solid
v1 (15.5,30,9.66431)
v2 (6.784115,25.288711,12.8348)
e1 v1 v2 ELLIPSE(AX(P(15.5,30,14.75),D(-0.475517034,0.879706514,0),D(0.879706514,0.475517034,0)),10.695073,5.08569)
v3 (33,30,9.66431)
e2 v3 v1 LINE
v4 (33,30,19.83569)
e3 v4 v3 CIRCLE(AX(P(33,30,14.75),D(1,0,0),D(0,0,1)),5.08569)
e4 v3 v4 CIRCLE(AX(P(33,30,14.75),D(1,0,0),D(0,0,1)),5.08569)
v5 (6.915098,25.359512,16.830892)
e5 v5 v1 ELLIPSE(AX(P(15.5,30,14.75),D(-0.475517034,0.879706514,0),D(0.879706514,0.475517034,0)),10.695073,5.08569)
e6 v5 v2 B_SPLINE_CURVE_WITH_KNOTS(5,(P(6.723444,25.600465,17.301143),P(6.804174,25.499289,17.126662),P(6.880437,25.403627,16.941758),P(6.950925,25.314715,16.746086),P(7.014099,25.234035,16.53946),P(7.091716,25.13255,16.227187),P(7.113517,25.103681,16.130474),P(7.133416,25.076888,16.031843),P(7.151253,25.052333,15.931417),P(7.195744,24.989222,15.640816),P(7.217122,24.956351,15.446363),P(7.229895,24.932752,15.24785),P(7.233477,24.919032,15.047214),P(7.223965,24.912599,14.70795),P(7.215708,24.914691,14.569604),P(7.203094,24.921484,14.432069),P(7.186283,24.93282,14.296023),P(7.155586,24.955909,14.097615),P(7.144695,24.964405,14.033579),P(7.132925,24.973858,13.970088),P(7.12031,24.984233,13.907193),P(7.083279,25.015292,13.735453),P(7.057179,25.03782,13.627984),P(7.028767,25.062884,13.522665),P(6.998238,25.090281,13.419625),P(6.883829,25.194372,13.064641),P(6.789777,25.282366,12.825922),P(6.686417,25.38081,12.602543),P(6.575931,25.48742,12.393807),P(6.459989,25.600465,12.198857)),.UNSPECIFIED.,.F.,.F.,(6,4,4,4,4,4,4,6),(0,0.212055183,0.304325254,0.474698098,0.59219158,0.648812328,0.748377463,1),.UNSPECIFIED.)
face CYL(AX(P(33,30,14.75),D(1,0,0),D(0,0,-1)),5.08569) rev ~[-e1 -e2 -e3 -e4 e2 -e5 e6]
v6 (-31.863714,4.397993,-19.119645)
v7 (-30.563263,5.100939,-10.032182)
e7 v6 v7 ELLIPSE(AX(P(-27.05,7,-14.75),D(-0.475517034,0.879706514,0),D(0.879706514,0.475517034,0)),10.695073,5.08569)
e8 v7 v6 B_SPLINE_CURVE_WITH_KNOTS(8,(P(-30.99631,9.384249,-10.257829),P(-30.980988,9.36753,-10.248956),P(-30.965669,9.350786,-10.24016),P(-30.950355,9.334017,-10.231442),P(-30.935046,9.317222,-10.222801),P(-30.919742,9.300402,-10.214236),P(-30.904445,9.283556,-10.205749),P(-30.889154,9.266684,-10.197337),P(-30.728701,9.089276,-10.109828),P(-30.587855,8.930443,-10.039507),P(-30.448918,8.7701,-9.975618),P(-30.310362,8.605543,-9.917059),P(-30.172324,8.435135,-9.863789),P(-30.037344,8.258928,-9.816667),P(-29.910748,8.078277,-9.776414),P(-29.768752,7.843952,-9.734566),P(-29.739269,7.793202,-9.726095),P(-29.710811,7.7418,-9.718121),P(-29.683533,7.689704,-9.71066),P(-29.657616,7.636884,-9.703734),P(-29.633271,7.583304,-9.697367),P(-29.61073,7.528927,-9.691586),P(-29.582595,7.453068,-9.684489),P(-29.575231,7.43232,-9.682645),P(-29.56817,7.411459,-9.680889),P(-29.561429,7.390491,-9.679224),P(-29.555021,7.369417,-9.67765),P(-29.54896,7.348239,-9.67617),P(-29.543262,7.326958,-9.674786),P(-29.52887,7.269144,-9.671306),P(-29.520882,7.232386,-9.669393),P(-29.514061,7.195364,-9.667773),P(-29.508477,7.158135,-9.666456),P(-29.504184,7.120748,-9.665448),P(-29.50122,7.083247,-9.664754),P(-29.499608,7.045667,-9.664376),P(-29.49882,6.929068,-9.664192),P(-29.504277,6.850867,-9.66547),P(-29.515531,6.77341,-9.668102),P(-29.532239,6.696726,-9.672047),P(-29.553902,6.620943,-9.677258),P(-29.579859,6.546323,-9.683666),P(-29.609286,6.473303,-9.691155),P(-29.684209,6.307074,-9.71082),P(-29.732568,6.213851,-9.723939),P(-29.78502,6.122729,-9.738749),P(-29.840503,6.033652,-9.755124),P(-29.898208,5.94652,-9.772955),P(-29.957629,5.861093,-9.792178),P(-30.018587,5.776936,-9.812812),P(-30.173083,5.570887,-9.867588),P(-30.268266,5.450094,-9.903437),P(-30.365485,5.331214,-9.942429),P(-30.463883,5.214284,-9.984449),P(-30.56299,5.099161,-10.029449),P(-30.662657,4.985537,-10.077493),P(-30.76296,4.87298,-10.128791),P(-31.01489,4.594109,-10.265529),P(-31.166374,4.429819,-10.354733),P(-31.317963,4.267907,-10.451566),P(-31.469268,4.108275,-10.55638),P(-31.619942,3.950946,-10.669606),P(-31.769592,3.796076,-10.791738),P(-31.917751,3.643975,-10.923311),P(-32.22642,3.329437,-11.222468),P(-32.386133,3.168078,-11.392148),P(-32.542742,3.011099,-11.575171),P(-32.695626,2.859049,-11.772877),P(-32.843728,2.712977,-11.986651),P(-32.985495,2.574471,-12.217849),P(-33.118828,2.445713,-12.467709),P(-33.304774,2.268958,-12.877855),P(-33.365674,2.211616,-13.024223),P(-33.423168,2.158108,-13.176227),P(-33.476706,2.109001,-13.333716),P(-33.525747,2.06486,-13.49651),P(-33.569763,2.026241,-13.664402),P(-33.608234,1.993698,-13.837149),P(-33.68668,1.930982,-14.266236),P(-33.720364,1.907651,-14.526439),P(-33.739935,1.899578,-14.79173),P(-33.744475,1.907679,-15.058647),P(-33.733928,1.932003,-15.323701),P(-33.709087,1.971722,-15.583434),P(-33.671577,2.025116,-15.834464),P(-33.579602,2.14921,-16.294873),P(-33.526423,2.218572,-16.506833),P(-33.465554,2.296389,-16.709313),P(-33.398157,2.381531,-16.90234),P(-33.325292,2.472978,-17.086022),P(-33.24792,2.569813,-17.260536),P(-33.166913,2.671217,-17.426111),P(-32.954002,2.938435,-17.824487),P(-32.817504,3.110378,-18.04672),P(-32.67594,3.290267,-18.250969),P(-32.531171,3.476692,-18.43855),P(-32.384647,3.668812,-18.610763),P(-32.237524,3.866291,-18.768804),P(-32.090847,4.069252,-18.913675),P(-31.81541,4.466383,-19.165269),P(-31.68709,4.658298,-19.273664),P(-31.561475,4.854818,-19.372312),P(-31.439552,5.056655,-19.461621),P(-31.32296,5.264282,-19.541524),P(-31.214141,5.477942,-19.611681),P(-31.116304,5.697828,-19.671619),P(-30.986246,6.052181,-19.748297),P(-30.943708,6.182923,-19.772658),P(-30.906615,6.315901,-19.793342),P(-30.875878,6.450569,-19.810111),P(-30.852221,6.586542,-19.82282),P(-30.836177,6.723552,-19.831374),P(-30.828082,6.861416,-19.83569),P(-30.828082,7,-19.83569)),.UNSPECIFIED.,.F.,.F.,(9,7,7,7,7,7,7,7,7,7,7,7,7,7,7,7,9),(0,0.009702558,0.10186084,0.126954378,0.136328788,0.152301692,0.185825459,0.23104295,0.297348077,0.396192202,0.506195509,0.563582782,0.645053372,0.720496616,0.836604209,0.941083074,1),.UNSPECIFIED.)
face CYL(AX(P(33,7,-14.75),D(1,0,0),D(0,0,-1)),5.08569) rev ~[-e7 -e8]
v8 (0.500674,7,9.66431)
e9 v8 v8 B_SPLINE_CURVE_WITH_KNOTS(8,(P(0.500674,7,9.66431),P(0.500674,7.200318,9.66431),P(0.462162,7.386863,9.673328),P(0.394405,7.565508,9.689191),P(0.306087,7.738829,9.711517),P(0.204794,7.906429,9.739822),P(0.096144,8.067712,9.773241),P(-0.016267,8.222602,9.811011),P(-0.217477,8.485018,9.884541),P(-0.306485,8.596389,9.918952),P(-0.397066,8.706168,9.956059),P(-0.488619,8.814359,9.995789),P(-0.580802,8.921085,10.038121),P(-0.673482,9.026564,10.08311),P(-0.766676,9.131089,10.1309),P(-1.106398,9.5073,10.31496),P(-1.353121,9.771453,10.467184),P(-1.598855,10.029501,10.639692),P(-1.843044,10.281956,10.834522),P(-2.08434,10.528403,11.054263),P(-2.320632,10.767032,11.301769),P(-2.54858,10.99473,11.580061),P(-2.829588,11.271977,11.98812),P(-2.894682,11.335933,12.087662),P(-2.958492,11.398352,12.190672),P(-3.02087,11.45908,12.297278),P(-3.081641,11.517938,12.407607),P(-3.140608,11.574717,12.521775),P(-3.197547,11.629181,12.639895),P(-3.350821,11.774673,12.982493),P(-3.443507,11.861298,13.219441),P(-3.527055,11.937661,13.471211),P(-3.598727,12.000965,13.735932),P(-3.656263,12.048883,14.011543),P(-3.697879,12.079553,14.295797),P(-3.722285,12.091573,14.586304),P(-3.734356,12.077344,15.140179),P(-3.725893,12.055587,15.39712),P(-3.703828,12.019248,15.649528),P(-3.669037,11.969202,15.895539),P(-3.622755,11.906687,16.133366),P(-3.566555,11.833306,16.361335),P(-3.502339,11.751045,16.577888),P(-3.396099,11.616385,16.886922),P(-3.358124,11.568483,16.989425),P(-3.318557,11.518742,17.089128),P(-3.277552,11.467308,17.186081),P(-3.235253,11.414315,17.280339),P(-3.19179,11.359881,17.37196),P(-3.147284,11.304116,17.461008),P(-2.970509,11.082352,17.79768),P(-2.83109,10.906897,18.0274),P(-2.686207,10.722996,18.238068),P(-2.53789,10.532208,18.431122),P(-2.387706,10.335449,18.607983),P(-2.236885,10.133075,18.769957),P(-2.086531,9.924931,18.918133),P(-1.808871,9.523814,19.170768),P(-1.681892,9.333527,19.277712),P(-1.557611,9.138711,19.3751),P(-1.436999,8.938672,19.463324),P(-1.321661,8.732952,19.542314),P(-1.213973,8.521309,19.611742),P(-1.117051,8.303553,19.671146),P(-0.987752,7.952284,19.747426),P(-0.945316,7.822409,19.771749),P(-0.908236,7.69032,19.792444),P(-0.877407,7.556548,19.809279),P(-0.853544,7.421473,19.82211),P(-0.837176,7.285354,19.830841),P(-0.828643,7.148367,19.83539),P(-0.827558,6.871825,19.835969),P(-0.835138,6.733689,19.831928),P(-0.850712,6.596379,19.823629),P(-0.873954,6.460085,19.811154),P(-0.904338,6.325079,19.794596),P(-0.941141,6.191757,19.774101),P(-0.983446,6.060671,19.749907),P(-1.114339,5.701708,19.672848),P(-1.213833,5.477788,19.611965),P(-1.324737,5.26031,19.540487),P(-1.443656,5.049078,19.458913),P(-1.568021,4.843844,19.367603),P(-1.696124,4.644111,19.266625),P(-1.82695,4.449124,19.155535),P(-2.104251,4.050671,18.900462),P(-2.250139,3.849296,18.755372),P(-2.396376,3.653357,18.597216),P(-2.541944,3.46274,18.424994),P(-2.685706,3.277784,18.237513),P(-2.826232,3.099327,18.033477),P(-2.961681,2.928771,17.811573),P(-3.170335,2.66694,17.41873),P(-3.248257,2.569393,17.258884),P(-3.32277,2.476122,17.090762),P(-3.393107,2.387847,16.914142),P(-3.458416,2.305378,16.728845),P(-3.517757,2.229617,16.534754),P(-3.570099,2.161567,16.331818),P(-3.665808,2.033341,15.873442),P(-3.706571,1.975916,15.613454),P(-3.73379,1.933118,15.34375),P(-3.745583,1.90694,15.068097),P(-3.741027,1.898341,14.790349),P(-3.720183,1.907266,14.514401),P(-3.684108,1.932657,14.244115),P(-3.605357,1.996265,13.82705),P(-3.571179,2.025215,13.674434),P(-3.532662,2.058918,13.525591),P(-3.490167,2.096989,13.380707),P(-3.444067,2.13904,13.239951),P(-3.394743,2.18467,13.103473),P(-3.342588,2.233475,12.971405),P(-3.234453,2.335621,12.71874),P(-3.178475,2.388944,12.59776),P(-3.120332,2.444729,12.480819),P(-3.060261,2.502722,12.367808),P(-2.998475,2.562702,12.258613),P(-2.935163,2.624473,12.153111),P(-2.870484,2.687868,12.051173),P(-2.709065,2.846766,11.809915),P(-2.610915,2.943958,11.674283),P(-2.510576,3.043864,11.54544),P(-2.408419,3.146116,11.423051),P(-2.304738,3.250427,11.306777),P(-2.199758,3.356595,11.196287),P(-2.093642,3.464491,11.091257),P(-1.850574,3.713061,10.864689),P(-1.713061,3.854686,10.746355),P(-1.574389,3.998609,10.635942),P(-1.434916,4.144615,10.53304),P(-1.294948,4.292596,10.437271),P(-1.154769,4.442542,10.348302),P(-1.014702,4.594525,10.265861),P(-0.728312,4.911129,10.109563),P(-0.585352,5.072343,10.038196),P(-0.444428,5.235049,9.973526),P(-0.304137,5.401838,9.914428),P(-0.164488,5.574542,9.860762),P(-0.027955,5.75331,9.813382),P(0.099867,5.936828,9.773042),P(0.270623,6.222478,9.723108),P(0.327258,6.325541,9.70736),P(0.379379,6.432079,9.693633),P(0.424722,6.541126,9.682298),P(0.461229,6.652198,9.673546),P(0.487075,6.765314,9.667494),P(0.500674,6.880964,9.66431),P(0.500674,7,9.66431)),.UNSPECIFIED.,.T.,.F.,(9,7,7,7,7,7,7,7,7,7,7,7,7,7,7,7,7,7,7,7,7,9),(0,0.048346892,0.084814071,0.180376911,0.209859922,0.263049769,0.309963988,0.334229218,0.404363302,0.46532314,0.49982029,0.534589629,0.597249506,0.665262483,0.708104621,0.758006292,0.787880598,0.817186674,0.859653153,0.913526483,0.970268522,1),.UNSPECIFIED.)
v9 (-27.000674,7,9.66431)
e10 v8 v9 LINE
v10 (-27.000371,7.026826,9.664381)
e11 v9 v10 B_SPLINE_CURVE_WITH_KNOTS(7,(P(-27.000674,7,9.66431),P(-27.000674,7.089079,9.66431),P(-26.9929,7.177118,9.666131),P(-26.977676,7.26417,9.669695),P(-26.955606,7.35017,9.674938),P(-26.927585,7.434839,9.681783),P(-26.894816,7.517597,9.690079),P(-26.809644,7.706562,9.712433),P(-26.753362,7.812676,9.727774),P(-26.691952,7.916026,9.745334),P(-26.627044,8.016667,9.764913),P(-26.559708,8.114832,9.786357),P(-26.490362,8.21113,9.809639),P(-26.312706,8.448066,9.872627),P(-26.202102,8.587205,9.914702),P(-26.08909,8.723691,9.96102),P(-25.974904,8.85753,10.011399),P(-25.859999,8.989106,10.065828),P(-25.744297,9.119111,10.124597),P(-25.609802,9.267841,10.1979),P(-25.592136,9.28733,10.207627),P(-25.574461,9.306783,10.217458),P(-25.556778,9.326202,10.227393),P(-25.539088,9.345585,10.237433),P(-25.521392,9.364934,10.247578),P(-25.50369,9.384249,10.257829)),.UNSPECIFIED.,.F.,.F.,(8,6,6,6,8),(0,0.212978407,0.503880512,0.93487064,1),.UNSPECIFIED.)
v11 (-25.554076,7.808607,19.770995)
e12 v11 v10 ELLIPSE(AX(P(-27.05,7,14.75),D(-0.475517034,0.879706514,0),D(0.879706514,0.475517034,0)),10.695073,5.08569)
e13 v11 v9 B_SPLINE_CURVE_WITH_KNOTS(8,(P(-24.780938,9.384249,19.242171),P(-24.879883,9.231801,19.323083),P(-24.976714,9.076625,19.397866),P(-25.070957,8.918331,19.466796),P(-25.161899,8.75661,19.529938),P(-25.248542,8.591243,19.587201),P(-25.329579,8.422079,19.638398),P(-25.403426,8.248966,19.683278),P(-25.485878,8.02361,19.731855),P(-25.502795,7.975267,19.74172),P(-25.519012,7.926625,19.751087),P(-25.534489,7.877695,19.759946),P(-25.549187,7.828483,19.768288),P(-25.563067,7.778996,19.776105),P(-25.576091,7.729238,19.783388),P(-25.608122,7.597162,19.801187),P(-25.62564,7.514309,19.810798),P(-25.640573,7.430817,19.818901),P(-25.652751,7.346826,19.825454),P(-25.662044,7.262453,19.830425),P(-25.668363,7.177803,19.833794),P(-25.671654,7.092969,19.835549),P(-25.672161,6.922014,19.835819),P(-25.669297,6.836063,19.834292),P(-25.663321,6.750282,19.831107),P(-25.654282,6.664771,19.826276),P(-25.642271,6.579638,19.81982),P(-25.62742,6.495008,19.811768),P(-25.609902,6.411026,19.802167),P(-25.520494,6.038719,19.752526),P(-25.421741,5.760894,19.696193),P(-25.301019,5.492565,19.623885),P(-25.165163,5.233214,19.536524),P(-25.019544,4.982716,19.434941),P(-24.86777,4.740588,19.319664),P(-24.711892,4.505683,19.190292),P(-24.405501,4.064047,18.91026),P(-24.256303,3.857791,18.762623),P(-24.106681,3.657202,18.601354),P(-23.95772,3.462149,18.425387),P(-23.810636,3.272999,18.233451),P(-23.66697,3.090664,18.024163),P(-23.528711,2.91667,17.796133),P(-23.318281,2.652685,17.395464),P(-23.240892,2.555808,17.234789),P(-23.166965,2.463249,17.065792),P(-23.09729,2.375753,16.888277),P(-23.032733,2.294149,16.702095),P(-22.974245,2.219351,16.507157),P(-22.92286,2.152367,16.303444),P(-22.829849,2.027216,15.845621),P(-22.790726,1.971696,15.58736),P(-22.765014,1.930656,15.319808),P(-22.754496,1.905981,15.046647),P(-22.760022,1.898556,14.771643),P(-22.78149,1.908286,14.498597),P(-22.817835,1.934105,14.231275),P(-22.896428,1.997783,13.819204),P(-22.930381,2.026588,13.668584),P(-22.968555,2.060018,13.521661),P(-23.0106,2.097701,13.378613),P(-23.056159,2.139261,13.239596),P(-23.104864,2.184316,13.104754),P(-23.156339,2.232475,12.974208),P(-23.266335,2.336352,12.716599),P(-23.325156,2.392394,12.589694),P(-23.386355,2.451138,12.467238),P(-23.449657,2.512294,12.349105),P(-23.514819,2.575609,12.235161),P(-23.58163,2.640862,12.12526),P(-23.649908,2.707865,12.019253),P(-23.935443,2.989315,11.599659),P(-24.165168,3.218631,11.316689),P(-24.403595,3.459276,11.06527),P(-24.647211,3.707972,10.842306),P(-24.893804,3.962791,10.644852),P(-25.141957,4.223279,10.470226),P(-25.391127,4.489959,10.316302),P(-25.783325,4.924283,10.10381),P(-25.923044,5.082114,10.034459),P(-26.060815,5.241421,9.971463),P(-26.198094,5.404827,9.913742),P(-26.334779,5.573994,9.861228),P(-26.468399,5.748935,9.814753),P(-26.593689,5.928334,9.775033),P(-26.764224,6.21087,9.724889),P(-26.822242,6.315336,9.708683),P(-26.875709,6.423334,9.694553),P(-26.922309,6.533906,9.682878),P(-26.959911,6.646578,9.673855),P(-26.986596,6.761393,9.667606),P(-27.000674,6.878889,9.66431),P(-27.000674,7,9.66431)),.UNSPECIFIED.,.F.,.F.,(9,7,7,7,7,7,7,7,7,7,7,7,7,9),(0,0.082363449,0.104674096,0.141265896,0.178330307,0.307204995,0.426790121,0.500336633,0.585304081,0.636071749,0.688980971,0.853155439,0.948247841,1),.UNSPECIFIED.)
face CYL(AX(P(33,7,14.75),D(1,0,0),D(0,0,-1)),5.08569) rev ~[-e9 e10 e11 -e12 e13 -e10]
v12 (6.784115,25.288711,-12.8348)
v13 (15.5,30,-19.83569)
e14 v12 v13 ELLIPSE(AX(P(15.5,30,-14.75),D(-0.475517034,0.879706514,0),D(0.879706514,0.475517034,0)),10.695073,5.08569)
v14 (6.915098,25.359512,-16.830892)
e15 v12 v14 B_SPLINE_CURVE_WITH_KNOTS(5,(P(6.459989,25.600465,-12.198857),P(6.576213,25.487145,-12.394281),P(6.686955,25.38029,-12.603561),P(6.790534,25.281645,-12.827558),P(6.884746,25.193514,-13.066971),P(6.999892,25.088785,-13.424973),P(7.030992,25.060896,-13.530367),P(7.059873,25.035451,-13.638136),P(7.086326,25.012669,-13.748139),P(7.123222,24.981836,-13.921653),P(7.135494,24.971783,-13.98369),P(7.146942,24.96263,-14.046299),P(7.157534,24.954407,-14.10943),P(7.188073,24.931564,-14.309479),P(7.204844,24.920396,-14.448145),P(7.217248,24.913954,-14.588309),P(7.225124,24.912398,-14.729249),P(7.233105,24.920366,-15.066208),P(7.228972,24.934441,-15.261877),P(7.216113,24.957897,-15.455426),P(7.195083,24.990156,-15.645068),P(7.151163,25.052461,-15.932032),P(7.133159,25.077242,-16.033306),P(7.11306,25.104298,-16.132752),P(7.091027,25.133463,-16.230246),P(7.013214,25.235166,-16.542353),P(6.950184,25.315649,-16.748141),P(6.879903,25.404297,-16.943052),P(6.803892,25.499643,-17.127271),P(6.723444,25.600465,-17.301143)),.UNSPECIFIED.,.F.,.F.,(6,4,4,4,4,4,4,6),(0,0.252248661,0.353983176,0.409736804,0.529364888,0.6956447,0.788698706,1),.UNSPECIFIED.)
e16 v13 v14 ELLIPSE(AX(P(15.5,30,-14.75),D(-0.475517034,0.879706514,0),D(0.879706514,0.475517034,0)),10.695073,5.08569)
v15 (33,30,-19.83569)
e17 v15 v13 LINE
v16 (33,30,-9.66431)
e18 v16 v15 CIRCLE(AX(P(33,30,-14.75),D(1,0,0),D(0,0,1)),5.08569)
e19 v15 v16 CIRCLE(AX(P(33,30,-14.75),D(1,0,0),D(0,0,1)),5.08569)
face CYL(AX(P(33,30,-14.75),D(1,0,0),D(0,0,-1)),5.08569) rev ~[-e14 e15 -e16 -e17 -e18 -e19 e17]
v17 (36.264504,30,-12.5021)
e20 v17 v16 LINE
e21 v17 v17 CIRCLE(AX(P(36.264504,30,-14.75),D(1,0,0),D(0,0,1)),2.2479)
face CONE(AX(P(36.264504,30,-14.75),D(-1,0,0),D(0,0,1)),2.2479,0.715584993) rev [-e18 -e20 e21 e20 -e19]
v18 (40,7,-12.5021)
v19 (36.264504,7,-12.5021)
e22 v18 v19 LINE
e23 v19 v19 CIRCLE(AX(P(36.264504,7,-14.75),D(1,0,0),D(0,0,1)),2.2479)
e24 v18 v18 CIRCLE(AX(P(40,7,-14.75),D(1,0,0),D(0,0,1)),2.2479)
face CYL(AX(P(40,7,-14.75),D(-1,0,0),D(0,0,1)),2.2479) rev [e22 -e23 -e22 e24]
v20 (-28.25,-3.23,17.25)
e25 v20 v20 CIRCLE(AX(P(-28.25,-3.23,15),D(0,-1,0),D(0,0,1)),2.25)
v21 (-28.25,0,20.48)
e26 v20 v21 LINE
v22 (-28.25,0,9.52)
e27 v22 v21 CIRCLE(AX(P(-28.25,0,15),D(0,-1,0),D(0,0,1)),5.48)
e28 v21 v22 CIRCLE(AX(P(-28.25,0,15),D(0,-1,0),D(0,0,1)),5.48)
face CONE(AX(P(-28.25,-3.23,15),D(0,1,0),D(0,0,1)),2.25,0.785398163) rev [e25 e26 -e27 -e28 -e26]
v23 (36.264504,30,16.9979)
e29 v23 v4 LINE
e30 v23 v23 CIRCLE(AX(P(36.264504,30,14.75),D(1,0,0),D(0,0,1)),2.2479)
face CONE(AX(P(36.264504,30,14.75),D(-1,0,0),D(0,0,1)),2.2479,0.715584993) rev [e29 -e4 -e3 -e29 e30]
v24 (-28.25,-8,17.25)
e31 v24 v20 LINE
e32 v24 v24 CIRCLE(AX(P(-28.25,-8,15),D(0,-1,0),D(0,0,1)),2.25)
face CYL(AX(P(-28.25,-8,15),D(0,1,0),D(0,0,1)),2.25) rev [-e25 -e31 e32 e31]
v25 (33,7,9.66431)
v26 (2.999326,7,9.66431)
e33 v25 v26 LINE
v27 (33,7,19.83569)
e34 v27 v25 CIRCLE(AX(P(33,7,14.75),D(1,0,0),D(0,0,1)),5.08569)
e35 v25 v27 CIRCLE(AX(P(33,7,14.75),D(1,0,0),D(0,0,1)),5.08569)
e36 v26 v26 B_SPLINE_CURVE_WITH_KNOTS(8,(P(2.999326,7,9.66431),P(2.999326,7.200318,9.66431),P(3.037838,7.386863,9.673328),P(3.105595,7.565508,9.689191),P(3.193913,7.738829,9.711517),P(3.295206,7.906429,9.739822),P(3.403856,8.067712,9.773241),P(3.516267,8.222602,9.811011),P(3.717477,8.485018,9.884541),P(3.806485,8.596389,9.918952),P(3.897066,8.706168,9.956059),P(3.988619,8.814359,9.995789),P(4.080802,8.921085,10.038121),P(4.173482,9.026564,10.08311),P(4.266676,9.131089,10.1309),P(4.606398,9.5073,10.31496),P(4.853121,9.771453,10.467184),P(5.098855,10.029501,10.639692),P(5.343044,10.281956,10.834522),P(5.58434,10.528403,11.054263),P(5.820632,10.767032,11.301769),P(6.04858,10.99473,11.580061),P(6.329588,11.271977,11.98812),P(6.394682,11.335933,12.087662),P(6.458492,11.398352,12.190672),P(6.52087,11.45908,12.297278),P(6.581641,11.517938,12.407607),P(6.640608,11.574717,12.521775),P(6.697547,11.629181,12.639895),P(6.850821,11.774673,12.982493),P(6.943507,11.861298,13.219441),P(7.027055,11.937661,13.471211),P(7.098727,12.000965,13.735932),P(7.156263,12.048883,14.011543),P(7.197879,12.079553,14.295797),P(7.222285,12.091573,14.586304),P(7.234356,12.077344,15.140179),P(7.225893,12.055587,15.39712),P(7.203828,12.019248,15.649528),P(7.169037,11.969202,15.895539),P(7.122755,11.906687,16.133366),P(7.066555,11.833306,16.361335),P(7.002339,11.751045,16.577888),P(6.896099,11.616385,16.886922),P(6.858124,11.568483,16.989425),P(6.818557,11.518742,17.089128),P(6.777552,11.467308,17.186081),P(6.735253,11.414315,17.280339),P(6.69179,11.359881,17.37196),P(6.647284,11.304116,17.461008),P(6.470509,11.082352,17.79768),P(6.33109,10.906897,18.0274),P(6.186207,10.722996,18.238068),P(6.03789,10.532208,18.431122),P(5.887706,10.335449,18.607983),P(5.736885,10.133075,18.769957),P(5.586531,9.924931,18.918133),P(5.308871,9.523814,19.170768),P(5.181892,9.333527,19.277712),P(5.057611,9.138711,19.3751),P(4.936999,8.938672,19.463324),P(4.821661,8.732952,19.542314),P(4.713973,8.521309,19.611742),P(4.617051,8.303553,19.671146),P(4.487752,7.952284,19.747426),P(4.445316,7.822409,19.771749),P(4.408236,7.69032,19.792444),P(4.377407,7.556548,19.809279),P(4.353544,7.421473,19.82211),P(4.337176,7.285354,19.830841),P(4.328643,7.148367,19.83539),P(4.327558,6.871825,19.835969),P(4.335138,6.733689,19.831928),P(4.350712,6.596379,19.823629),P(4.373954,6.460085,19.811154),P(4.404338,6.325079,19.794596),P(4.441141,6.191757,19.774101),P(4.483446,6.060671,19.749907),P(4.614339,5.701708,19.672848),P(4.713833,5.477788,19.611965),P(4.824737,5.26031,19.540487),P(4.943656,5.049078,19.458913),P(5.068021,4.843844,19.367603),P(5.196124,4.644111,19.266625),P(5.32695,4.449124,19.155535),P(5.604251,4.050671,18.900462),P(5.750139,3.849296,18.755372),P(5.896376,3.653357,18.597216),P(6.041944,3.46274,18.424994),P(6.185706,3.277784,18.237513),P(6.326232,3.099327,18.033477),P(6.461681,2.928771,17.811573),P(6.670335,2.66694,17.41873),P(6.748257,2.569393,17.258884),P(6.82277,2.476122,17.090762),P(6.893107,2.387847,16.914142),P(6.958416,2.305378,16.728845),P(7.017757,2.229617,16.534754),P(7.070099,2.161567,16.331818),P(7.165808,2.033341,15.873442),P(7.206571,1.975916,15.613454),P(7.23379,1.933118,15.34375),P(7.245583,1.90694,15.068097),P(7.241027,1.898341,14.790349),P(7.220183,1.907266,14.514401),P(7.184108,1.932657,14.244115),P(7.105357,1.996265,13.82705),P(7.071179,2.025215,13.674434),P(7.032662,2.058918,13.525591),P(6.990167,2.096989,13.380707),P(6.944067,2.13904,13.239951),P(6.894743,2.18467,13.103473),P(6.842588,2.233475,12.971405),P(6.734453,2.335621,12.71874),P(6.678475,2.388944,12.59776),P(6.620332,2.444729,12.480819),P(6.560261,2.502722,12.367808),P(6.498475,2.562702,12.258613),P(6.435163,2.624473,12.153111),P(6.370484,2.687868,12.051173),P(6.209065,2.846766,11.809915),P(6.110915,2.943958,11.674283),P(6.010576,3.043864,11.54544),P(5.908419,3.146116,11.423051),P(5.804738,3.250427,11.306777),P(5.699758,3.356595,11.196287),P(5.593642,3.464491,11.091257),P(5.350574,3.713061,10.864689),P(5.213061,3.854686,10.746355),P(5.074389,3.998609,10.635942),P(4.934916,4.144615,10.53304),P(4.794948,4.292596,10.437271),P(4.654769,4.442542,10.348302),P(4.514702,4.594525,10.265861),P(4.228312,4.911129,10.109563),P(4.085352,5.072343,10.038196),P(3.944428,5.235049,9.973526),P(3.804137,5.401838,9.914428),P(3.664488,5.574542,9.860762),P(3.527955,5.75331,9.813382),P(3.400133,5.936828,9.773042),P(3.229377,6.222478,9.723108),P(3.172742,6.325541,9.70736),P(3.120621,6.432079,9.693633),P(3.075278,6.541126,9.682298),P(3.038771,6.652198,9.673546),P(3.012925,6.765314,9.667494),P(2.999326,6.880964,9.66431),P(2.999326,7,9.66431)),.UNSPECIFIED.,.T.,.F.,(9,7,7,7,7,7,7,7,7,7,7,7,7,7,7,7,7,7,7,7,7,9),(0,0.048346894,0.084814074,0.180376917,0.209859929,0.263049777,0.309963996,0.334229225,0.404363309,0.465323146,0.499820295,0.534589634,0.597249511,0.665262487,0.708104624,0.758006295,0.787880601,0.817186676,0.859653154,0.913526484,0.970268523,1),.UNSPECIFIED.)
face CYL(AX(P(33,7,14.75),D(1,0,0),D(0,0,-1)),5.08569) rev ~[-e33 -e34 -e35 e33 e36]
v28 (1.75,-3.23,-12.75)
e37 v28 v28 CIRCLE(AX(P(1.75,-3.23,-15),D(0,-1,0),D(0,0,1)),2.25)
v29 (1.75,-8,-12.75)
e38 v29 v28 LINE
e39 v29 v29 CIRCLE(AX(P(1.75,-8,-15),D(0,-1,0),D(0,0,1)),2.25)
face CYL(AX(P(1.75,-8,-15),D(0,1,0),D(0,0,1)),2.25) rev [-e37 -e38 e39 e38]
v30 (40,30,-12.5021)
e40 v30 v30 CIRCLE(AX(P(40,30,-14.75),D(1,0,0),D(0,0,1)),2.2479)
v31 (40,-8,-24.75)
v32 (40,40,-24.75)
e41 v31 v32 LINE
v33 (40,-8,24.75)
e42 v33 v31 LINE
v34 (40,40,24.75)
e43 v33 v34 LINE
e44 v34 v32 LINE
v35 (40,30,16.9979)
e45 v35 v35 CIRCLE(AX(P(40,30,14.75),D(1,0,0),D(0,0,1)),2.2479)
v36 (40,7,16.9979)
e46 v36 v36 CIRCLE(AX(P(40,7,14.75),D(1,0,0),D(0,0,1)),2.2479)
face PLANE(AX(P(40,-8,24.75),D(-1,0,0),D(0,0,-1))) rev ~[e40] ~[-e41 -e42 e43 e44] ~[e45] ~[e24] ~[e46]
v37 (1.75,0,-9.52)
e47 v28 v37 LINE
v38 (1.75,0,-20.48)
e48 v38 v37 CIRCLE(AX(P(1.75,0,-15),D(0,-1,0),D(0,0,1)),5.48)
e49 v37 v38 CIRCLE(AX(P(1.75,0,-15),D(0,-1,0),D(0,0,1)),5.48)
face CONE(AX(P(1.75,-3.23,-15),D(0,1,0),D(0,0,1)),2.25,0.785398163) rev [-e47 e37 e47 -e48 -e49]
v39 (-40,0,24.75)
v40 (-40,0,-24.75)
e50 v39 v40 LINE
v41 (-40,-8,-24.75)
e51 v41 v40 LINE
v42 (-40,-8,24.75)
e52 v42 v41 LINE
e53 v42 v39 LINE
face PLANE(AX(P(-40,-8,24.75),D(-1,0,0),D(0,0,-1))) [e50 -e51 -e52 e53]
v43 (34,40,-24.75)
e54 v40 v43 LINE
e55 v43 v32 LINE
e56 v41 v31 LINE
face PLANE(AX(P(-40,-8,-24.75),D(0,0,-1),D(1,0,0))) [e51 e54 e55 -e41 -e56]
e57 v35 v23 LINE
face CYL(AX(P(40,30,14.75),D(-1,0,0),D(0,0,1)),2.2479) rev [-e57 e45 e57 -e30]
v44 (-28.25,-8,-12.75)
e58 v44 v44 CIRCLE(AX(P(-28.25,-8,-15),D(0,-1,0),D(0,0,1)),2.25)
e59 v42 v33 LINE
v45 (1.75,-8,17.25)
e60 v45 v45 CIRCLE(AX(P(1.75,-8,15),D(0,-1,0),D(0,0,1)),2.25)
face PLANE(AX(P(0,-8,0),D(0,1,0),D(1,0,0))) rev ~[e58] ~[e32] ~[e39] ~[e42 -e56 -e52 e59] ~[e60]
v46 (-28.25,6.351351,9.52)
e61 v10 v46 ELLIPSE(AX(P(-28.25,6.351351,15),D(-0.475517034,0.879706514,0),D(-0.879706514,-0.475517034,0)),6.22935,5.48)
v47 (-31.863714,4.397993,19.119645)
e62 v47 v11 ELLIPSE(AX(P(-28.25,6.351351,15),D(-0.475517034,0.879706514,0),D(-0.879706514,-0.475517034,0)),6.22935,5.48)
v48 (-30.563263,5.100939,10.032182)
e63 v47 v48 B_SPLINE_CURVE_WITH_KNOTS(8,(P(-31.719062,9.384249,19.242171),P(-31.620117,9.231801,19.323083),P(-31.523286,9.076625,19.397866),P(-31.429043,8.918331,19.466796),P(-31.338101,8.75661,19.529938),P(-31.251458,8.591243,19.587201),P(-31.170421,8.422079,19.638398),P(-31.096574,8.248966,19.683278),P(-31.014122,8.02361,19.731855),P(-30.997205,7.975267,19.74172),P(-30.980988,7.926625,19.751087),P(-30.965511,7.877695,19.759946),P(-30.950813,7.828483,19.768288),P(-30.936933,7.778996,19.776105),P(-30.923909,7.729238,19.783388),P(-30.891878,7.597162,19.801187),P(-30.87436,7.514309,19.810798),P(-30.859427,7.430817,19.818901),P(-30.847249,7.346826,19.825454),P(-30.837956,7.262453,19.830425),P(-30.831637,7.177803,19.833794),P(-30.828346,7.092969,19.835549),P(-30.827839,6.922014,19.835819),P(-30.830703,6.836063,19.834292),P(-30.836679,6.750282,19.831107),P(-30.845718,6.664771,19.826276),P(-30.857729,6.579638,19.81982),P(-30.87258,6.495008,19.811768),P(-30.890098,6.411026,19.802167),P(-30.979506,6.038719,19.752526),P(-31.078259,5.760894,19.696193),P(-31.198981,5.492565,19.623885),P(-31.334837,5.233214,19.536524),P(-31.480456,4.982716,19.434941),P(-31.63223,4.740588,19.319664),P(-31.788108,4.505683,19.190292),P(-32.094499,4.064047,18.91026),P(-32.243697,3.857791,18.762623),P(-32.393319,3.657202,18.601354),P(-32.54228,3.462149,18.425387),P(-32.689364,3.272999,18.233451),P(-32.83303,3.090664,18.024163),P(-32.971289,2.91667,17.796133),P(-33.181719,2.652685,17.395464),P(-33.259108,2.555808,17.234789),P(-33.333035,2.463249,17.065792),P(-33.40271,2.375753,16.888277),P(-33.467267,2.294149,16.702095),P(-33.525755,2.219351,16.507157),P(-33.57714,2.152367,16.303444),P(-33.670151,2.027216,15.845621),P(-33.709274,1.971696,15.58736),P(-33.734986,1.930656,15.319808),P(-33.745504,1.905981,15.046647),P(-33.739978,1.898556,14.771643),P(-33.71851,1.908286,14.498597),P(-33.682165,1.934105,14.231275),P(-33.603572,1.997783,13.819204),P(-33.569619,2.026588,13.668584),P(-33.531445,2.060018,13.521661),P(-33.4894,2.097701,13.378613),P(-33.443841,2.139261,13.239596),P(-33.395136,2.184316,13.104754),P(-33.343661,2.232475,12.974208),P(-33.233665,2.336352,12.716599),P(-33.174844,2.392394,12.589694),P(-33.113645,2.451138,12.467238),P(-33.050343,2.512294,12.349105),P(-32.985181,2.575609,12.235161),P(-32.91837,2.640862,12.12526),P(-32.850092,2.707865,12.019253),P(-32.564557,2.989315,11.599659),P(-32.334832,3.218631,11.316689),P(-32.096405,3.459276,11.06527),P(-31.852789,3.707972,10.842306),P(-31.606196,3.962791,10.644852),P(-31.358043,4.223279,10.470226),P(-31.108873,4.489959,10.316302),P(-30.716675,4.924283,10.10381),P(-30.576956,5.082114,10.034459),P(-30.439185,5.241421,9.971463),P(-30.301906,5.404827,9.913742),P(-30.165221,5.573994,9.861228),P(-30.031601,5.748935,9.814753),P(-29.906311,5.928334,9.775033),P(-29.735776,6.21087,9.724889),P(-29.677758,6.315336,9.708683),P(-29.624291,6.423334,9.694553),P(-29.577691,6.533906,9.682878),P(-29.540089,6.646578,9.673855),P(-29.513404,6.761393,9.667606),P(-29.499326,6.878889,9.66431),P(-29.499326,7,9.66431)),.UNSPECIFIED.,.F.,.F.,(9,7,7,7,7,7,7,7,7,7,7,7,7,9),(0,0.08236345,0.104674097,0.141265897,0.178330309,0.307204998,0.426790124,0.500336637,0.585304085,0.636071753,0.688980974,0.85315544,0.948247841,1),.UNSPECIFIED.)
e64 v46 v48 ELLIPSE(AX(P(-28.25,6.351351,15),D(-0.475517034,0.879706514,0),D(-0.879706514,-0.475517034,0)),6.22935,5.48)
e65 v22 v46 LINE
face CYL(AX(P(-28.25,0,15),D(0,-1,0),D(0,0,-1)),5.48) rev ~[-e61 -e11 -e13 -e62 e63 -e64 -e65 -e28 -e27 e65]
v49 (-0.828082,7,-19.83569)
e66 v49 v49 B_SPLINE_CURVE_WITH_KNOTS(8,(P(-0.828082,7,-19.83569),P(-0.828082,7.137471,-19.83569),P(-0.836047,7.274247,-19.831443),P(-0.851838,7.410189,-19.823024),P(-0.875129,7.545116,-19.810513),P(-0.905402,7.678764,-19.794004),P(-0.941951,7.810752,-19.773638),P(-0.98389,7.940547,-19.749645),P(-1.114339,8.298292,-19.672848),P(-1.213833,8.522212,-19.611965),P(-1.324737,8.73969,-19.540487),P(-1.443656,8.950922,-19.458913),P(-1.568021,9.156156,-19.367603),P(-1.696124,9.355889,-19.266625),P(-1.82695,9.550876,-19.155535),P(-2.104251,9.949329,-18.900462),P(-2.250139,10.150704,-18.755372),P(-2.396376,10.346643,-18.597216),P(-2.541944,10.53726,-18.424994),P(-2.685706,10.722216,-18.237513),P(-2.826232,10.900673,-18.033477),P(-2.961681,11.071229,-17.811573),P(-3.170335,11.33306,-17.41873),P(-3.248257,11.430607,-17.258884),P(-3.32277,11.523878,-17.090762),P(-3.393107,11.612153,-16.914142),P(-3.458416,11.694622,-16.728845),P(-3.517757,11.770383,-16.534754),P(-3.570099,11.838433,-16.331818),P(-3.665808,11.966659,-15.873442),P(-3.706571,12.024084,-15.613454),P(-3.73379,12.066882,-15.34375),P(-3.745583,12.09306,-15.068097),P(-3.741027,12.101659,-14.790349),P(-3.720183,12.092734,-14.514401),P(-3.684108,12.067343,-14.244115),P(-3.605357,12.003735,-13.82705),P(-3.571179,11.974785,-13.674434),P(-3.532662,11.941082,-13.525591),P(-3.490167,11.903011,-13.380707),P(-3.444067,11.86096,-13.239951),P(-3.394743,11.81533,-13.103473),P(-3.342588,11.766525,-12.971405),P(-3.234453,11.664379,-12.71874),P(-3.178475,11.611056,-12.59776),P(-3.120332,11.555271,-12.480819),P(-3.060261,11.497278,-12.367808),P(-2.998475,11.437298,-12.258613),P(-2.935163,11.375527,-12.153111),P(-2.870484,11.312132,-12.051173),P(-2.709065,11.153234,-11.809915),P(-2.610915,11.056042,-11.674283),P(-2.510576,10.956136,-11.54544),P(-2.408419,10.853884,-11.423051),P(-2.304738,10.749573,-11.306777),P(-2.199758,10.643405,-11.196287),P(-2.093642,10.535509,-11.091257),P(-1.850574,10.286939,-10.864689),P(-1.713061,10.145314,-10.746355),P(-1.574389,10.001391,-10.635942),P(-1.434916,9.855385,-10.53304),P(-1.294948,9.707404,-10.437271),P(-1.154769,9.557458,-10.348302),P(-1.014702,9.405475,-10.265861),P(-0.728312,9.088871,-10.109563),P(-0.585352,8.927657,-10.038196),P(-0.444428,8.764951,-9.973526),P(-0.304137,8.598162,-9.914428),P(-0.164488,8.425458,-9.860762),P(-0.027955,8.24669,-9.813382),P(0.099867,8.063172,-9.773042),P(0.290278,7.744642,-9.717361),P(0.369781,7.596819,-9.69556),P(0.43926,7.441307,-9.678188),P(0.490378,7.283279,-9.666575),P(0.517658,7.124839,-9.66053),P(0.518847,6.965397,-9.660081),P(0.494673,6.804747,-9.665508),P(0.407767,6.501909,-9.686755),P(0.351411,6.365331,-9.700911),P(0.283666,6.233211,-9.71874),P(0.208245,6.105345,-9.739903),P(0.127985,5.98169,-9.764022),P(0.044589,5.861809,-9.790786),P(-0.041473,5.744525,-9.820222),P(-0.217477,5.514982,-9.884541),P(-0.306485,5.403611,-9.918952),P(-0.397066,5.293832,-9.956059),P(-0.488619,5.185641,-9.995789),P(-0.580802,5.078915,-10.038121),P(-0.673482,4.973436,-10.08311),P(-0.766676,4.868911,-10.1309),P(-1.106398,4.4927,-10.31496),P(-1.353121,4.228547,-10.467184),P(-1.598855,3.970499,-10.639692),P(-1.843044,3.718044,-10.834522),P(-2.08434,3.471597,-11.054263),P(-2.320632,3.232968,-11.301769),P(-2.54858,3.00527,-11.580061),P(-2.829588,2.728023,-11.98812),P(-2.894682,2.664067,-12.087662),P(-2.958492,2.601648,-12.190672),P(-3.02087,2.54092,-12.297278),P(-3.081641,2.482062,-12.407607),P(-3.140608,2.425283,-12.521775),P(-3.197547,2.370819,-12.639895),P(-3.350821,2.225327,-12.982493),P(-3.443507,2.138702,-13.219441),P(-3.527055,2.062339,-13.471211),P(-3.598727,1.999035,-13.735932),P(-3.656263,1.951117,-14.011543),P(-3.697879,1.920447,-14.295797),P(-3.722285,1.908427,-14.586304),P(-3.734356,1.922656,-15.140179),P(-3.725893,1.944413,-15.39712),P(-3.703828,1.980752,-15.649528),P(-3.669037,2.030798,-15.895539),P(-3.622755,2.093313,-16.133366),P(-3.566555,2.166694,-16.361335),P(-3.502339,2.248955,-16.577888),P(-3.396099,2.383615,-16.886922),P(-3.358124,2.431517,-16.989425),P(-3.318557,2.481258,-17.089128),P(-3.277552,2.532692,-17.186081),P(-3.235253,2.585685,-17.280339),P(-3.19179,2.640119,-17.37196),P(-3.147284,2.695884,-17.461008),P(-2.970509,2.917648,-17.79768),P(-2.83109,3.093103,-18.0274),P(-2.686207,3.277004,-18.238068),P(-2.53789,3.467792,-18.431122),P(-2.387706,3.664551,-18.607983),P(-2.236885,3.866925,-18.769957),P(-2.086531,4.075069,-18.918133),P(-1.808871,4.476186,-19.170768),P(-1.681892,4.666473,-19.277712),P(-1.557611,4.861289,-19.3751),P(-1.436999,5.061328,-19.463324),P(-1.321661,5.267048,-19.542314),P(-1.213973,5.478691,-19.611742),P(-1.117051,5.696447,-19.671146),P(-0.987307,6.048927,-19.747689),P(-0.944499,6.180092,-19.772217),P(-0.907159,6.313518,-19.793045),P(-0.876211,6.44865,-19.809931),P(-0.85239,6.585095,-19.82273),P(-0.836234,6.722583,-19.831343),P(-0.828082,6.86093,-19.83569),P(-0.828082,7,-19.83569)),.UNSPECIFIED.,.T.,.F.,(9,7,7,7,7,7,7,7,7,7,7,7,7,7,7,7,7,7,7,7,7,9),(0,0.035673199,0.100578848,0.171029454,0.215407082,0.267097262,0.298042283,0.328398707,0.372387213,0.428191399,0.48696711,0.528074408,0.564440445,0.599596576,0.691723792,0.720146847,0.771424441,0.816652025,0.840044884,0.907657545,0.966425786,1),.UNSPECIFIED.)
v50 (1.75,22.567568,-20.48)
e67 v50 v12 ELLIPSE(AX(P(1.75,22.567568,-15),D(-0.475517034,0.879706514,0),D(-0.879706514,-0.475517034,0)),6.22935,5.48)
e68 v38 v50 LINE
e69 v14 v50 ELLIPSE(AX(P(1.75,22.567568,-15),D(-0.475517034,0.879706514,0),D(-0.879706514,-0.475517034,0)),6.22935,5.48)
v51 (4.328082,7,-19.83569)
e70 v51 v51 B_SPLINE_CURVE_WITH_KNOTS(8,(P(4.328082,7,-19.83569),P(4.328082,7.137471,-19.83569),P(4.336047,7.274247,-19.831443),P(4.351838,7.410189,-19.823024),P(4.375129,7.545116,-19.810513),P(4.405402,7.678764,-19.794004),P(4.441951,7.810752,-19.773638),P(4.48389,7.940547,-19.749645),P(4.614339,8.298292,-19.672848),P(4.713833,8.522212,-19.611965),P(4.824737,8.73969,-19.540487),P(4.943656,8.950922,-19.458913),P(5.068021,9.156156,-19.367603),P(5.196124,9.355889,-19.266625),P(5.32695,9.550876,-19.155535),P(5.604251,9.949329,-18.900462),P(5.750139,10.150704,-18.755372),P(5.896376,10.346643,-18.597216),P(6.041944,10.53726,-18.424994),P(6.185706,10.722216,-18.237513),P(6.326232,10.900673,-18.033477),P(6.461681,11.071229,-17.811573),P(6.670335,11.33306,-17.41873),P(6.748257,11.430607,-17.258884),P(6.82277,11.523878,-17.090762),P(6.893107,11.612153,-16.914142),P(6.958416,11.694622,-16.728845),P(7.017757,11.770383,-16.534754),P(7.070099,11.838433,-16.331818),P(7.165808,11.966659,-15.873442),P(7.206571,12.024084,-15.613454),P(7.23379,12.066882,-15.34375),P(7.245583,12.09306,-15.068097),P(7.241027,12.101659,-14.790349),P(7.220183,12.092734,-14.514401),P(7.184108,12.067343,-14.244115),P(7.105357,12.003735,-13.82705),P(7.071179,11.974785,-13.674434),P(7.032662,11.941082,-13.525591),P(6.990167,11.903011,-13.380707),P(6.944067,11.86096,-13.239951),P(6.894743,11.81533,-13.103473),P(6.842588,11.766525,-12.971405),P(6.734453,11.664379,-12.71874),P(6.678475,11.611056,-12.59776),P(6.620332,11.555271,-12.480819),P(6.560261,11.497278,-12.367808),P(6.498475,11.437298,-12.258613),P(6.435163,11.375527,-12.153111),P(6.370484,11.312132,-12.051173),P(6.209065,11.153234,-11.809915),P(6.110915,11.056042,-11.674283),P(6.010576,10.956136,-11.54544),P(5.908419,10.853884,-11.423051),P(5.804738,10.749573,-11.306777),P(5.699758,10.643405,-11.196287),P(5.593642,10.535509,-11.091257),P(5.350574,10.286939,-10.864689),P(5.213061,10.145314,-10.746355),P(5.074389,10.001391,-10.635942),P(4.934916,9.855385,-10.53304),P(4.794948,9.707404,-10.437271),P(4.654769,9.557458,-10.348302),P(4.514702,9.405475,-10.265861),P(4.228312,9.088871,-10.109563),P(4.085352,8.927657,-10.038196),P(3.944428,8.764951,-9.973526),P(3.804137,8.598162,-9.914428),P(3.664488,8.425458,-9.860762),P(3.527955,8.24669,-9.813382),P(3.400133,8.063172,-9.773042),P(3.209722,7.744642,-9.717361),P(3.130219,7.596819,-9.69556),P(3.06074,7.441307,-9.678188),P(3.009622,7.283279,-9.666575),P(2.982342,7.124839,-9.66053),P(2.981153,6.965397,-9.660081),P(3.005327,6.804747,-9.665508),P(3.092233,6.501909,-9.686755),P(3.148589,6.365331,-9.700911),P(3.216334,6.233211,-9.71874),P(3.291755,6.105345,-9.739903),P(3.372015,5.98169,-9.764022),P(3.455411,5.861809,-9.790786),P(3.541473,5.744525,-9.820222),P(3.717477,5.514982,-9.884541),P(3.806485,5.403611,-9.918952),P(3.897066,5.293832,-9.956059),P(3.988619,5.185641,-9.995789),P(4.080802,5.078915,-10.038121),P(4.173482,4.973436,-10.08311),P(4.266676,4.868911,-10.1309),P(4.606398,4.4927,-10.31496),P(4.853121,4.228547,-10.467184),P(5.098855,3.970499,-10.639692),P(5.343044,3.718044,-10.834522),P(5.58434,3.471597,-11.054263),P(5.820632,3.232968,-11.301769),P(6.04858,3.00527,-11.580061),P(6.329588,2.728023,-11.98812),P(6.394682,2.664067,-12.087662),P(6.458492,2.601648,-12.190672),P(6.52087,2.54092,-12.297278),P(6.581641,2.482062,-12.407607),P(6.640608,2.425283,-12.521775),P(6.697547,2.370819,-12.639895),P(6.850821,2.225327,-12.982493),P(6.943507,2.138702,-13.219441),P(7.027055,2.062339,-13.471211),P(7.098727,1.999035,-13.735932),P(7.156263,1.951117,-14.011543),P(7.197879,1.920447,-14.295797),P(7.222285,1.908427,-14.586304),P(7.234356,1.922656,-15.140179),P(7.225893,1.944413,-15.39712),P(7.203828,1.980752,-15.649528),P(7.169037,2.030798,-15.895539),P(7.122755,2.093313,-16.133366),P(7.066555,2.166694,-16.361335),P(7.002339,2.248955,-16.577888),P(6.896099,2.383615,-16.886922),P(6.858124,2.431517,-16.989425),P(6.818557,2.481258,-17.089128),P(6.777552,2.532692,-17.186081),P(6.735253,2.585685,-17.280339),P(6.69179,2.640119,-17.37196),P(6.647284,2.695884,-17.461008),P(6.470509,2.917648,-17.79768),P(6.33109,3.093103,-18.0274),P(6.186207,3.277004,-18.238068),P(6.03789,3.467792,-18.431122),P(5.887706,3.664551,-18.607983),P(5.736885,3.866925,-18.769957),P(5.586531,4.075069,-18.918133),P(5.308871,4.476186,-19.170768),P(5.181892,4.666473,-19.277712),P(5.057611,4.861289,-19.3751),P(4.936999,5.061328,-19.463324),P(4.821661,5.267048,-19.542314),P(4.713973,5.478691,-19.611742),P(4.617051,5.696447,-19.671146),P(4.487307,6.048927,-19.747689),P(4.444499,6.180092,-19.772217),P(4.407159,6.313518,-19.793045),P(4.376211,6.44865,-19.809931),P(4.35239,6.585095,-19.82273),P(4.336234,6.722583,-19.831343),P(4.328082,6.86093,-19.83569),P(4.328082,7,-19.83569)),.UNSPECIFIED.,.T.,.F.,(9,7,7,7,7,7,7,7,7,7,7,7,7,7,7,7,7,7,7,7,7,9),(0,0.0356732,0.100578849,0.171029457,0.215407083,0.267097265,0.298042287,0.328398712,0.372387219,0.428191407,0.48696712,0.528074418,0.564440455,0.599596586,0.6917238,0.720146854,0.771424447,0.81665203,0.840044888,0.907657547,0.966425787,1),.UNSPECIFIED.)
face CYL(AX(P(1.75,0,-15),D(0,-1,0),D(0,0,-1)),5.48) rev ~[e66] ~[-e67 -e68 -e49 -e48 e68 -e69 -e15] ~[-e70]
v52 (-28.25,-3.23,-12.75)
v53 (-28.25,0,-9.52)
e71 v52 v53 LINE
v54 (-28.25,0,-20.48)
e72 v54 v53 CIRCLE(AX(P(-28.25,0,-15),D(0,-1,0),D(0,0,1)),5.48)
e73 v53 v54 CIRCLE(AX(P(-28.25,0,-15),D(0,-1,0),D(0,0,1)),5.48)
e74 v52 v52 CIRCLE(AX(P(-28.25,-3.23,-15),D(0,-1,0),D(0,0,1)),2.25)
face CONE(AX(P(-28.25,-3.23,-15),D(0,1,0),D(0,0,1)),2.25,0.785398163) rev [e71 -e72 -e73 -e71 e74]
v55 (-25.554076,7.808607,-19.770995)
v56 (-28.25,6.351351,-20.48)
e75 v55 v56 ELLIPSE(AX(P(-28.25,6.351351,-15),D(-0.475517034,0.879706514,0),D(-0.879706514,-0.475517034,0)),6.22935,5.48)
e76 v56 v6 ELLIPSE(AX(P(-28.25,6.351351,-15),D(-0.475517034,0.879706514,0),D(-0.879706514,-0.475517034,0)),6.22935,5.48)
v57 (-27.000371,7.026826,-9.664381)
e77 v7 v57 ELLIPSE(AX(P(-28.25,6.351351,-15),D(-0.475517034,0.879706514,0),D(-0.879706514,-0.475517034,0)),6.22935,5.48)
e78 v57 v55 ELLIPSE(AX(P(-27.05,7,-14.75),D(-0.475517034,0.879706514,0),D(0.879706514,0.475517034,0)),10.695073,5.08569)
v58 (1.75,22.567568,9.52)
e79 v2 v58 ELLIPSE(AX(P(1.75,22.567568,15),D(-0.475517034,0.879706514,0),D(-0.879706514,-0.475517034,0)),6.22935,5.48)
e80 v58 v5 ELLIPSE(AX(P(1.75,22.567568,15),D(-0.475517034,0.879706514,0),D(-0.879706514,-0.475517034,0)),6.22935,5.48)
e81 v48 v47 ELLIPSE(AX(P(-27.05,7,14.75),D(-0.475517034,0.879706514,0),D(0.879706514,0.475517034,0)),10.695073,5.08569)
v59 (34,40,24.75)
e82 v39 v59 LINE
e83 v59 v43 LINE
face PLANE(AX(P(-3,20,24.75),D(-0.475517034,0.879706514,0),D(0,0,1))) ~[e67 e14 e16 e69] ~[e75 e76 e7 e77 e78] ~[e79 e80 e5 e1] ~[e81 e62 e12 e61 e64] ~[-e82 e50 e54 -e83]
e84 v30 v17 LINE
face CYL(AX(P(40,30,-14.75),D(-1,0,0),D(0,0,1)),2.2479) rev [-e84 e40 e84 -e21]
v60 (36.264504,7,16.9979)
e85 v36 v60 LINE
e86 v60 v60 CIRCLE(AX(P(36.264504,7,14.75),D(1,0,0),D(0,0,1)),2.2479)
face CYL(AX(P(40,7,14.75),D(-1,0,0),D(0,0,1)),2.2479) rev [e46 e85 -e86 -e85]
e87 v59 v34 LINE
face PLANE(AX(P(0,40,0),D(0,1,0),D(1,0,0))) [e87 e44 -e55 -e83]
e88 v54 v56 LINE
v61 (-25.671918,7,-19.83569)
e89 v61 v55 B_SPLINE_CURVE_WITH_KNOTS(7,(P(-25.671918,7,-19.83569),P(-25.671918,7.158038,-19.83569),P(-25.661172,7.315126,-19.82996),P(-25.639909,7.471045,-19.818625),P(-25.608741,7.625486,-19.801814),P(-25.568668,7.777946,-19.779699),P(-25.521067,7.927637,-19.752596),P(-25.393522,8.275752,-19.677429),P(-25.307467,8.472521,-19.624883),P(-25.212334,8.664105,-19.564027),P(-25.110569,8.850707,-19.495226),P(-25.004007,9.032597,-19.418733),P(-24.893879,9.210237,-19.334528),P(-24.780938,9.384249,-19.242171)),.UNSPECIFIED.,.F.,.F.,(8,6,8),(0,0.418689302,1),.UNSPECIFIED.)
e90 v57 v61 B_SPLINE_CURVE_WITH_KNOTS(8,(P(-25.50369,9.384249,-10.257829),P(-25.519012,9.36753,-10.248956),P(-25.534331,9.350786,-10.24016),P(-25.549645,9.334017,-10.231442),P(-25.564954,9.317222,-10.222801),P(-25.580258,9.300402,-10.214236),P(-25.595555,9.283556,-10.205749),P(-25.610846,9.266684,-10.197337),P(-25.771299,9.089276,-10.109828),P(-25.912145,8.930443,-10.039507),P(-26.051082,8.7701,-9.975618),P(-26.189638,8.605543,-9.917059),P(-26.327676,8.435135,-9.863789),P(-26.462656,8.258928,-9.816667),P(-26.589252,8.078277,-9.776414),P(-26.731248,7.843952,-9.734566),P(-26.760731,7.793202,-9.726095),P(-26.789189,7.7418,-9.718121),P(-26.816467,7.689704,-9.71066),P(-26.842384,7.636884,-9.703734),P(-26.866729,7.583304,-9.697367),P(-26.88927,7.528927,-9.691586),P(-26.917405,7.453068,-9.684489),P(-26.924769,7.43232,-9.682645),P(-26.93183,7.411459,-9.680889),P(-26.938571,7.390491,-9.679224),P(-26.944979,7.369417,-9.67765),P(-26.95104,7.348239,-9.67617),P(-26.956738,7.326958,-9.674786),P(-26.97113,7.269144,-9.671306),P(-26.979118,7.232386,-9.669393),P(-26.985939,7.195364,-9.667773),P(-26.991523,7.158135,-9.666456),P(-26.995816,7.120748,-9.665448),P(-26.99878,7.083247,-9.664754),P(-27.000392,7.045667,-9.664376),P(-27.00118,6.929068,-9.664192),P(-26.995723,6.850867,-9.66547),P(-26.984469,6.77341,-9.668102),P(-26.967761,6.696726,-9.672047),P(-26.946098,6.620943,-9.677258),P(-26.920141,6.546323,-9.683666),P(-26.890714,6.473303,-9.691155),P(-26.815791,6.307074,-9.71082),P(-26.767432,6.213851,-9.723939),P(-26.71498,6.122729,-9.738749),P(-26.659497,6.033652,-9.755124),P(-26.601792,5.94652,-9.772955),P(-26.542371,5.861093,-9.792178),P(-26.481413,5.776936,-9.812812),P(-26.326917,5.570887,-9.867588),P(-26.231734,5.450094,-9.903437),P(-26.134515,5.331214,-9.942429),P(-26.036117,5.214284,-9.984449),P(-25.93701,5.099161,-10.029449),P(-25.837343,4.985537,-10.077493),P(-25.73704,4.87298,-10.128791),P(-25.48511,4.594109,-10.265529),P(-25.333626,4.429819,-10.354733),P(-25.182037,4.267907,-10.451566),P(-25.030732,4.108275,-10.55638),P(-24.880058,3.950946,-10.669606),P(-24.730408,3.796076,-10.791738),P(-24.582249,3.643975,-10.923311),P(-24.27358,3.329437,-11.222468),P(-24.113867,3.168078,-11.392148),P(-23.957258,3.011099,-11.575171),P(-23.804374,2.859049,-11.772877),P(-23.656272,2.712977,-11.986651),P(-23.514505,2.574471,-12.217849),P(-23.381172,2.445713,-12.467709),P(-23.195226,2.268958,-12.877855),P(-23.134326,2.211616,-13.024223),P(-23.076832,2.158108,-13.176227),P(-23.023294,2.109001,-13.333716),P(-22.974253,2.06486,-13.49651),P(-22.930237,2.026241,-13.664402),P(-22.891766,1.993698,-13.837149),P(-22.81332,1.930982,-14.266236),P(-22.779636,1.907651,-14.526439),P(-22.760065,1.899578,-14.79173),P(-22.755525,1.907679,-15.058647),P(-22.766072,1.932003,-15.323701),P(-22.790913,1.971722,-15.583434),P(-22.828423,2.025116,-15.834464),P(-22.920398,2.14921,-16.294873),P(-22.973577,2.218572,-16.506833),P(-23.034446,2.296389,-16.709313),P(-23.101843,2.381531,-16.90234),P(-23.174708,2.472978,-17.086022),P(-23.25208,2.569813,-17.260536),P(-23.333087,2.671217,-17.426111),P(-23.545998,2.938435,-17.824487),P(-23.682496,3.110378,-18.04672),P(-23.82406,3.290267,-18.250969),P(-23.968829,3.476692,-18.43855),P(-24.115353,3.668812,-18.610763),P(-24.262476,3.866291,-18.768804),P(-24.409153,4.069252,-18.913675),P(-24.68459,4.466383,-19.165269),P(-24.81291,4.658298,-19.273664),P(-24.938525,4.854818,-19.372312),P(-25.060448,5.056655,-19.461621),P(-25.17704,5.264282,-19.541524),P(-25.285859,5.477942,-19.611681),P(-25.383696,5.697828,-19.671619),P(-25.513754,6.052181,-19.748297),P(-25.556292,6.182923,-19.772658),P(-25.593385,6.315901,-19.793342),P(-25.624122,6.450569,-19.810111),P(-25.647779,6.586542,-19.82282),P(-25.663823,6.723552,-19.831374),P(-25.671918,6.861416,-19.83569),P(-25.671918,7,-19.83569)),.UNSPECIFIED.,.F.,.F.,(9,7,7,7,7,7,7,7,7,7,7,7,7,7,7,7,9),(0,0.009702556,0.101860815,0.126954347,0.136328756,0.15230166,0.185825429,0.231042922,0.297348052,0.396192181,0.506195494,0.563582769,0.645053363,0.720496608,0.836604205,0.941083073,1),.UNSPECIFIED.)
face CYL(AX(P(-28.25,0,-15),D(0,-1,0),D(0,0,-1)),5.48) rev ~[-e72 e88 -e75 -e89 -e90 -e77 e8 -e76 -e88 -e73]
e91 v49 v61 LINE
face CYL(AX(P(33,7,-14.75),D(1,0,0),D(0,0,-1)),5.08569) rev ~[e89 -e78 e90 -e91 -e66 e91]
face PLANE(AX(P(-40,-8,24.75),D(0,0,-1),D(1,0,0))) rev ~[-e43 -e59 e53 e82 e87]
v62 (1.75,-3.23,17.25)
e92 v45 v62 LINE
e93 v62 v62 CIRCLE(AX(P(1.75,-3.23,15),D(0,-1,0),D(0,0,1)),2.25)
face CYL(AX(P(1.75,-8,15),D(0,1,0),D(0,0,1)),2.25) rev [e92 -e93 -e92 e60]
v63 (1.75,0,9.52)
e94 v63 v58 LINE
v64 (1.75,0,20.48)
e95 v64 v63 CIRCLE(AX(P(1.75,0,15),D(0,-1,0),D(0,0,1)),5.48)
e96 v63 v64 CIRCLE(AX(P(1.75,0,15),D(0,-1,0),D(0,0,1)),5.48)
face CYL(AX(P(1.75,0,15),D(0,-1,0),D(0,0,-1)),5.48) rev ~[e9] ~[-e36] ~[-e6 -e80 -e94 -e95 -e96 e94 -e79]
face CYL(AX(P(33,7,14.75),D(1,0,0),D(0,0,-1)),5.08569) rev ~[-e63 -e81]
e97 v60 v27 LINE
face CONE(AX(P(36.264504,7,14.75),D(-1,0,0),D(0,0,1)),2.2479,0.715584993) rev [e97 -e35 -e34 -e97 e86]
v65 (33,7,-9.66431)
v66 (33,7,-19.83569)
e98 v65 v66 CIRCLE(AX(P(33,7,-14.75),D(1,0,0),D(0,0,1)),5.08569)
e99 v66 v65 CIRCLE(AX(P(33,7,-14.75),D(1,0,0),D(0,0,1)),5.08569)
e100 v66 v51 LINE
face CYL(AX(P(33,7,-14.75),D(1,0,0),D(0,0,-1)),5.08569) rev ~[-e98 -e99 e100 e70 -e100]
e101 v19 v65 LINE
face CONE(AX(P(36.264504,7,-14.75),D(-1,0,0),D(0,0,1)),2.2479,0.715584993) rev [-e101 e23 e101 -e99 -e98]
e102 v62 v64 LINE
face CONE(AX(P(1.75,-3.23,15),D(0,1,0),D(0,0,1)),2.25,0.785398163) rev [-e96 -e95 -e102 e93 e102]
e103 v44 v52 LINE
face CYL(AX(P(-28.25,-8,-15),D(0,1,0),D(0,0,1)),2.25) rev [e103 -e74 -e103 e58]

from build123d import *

# Parameters (mm, degrees)
BOSS_EXTRUDE1_DEPTH                           = 40
BOSS_EXTRUDE1_DEPTH_BACK                      = 8
SKETCH1_W                                     = 80
SKETCH1_H                                     = 49.5
CHAMFER1_SIZE                                 = 40
CHAMFER1_SIZE2                                = 74
CSK_FOR_M4_SFHCS1_AT_2_COUNT                  = 2
CSK_FOR_M4_SFHCS1_AT_2_PITCH                  = 30
CSK_FOR_M4_SFHCS1_AT_3_COUNT                  = 2
CSK_FOR_M4_SFHCS1_AT_3_PITCH                  = 42.426406871
CSK_FOR_M4_SFHCS1_AT_4_COUNT                  = 2
CSK_FOR_M4_SFHCS1_AT_4_PITCH                  = 30
SKETCH4_R                                     = 5.48
CUT_EXTRUDE1_DEPTH                            = 62.745951284
CSK_FOR_8_FLAT_HEAD_MACHINE_SCREW1_AT_2_COUNT = 2
CSK_FOR_8_FLAT_HEAD_MACHINE_SCREW1_AT_2_PITCH = 29.5
CSK_FOR_8_FLAT_HEAD_MACHINE_SCREW1_AT_3_COUNT = 2
CSK_FOR_8_FLAT_HEAD_MACHINE_SCREW1_AT_3_PITCH = 37.406550229
CSK_FOR_8_FLAT_HEAD_MACHINE_SCREW1_AT_4_COUNT = 2
CSK_FOR_8_FLAT_HEAD_MACHINE_SCREW1_AT_4_PITCH = 23
SKETCH7_R                                     = 5.0856896
CUT_EXTRUDE2_DEPTH                            = 87.842170056


with BuildPart() as part:
    # Sketch1 → Boss-Extrude1 (new, two sides: drawn at the far end of the back side and taken through both)
    with BuildSketch(Plane(origin=(0, 0, 0), x_dir=(1, 0, 0), z_dir=(0, 1, 0)).offset(-BOSS_EXTRUDE1_DEPTH_BACK)):
        Rectangle(SKETCH1_W, SKETCH1_H)
    extrude(amount=BOSS_EXTRUDE1_DEPTH + BOSS_EXTRUDE1_DEPTH_BACK)

    # Chamfer1
    chamfer1_edges = [part.edges().sort_by_distance(p)[0] for p in [
        (-40, 40, 0),
    ]]
    chamfer1_side = [part.faces().sort_by_distance(p)[0] for p in [
        (-40, 16, 0),
    ]]
    chamfer(chamfer1_edges, length=CHAMFER1_SIZE, length2=CHAMFER1_SIZE2, reference=chamfer1_side[0])

    # Sketch3 → CSK for M4 SFHCS1 (revolve, cut)
    with BuildSketch(Plane(origin=(-28.25, 0, -15), x_dir=(0, 0, 1), z_dir=(1, 0, 0))):
        Polygon((0, 0), (0, 8), (2.25, 8), (2.25, 3.23), (5.48, 0), align=None)
    csk_for_m4_sfhcs1 = revolve(axis=Axis((-28.25, 6.35, -15), (0, -1, 0)), mode=Mode.SUBTRACT)

    # CSK for M4 SFHCS1 at 2: CSK for M4 SFHCS1 ×2
    with Locations(*[(i * CSK_FOR_M4_SFHCS1_AT_2_PITCH, 0, 0) for i in range(1, CSK_FOR_M4_SFHCS1_AT_2_COUNT)]):
        add(csk_for_m4_sfhcs1, mode=Mode.SUBTRACT)

    # CSK for M4 SFHCS1 at 3: CSK for M4 SFHCS1 ×2
    with Locations(*[Vector(0.7071067811865476, 0, 0.7071067811865476) * (i * CSK_FOR_M4_SFHCS1_AT_3_PITCH) for i in range(1, CSK_FOR_M4_SFHCS1_AT_3_COUNT)]):
        add(csk_for_m4_sfhcs1, mode=Mode.SUBTRACT)

    # CSK for M4 SFHCS1 at 4: CSK for M4 SFHCS1 ×2
    with Locations(*[(0, 0, i * CSK_FOR_M4_SFHCS1_AT_4_PITCH) for i in range(1, CSK_FOR_M4_SFHCS1_AT_4_COUNT)]):
        add(csk_for_m4_sfhcs1, mode=Mode.SUBTRACT)

    # Sketch4 → Cut-Extrude1 (cut, through all)
    with BuildSketch(Plane.XZ):
        with Locations(Location((-28.25, -15, 0), (0, 0, 270))):
            Circle(SKETCH4_R)
        with Locations(Location((1.75, -15, 0), (0, 0, 270))):
            Circle(SKETCH4_R)
        with Locations(Location((1.75, 15, 0), (0, 0, 270))):
            Circle(SKETCH4_R)
        with Locations(Location((-28.25, 15, 0), (0, 0, 270))):
            Circle(SKETCH4_R)
    extrude(amount=-CUT_EXTRUDE1_DEPTH, mode=Mode.SUBTRACT)

    # Sketch6 → CSK for #8 Flat Head Machine Screw1 (revolve, cut)
    with BuildSketch(Plane(origin=(33, 30, 14.75), x_dir=(0, 0, 1), z_dir=(0, 1, 0))):
        Polygon((0, 0), (0, 7), (2.2479, 7), (2.2479, 3.264503502), (5.0856896, 0), align=None)
    csk_for_8_flat_head_machine_screw1 = revolve(axis=Axis((26.65, 30, 14.75), (1, 0, 0)), mode=Mode.SUBTRACT)

    # CSK for #8 Flat Head Machine Screw1 at 2: CSK for #8 Flat Head Machine Screw1 ×2
    with Locations(*[(0, 0, -i * CSK_FOR_8_FLAT_HEAD_MACHINE_SCREW1_AT_2_PITCH) for i in range(1, CSK_FOR_8_FLAT_HEAD_MACHINE_SCREW1_AT_2_COUNT)]):
        add(csk_for_8_flat_head_machine_screw1, mode=Mode.SUBTRACT)

    # CSK for #8 Flat Head Machine Screw1 at 3: CSK for #8 Flat Head Machine Screw1 ×2
    with Locations(*[Vector(0, -0.6148655745980577, -0.7886319326366391) * (i * CSK_FOR_8_FLAT_HEAD_MACHINE_SCREW1_AT_3_PITCH) for i in range(1, CSK_FOR_8_FLAT_HEAD_MACHINE_SCREW1_AT_3_COUNT)]):
        add(csk_for_8_flat_head_machine_screw1, mode=Mode.SUBTRACT)

    # CSK for #8 Flat Head Machine Screw1 at 4: CSK for #8 Flat Head Machine Screw1 ×2
    with Locations(*[(0, -i * CSK_FOR_8_FLAT_HEAD_MACHINE_SCREW1_AT_4_PITCH, 0) for i in range(1, CSK_FOR_8_FLAT_HEAD_MACHINE_SCREW1_AT_4_COUNT)]):
        add(csk_for_8_flat_head_machine_screw1, mode=Mode.SUBTRACT)

    # Sketch7 → Cut-Extrude2 (cut, through all)
    with BuildSketch(Plane(origin=(33, 0, 0), x_dir=(0, 0, -1), z_dir=(1, 0, 0))):
        with Locations((-14.75, 7)):
            Circle(SKETCH7_R)
        with Locations((14.75, 7)):
            Circle(SKETCH7_R)
        with Locations((14.75, 30)):
            Circle(SKETCH7_R)
        with Locations((-14.75, 30)):
            Circle(SKETCH7_R)
    extrude(amount=-CUT_EXTRUDE2_DEPTH, mode=Mode.SUBTRACT)


solid = part.part
